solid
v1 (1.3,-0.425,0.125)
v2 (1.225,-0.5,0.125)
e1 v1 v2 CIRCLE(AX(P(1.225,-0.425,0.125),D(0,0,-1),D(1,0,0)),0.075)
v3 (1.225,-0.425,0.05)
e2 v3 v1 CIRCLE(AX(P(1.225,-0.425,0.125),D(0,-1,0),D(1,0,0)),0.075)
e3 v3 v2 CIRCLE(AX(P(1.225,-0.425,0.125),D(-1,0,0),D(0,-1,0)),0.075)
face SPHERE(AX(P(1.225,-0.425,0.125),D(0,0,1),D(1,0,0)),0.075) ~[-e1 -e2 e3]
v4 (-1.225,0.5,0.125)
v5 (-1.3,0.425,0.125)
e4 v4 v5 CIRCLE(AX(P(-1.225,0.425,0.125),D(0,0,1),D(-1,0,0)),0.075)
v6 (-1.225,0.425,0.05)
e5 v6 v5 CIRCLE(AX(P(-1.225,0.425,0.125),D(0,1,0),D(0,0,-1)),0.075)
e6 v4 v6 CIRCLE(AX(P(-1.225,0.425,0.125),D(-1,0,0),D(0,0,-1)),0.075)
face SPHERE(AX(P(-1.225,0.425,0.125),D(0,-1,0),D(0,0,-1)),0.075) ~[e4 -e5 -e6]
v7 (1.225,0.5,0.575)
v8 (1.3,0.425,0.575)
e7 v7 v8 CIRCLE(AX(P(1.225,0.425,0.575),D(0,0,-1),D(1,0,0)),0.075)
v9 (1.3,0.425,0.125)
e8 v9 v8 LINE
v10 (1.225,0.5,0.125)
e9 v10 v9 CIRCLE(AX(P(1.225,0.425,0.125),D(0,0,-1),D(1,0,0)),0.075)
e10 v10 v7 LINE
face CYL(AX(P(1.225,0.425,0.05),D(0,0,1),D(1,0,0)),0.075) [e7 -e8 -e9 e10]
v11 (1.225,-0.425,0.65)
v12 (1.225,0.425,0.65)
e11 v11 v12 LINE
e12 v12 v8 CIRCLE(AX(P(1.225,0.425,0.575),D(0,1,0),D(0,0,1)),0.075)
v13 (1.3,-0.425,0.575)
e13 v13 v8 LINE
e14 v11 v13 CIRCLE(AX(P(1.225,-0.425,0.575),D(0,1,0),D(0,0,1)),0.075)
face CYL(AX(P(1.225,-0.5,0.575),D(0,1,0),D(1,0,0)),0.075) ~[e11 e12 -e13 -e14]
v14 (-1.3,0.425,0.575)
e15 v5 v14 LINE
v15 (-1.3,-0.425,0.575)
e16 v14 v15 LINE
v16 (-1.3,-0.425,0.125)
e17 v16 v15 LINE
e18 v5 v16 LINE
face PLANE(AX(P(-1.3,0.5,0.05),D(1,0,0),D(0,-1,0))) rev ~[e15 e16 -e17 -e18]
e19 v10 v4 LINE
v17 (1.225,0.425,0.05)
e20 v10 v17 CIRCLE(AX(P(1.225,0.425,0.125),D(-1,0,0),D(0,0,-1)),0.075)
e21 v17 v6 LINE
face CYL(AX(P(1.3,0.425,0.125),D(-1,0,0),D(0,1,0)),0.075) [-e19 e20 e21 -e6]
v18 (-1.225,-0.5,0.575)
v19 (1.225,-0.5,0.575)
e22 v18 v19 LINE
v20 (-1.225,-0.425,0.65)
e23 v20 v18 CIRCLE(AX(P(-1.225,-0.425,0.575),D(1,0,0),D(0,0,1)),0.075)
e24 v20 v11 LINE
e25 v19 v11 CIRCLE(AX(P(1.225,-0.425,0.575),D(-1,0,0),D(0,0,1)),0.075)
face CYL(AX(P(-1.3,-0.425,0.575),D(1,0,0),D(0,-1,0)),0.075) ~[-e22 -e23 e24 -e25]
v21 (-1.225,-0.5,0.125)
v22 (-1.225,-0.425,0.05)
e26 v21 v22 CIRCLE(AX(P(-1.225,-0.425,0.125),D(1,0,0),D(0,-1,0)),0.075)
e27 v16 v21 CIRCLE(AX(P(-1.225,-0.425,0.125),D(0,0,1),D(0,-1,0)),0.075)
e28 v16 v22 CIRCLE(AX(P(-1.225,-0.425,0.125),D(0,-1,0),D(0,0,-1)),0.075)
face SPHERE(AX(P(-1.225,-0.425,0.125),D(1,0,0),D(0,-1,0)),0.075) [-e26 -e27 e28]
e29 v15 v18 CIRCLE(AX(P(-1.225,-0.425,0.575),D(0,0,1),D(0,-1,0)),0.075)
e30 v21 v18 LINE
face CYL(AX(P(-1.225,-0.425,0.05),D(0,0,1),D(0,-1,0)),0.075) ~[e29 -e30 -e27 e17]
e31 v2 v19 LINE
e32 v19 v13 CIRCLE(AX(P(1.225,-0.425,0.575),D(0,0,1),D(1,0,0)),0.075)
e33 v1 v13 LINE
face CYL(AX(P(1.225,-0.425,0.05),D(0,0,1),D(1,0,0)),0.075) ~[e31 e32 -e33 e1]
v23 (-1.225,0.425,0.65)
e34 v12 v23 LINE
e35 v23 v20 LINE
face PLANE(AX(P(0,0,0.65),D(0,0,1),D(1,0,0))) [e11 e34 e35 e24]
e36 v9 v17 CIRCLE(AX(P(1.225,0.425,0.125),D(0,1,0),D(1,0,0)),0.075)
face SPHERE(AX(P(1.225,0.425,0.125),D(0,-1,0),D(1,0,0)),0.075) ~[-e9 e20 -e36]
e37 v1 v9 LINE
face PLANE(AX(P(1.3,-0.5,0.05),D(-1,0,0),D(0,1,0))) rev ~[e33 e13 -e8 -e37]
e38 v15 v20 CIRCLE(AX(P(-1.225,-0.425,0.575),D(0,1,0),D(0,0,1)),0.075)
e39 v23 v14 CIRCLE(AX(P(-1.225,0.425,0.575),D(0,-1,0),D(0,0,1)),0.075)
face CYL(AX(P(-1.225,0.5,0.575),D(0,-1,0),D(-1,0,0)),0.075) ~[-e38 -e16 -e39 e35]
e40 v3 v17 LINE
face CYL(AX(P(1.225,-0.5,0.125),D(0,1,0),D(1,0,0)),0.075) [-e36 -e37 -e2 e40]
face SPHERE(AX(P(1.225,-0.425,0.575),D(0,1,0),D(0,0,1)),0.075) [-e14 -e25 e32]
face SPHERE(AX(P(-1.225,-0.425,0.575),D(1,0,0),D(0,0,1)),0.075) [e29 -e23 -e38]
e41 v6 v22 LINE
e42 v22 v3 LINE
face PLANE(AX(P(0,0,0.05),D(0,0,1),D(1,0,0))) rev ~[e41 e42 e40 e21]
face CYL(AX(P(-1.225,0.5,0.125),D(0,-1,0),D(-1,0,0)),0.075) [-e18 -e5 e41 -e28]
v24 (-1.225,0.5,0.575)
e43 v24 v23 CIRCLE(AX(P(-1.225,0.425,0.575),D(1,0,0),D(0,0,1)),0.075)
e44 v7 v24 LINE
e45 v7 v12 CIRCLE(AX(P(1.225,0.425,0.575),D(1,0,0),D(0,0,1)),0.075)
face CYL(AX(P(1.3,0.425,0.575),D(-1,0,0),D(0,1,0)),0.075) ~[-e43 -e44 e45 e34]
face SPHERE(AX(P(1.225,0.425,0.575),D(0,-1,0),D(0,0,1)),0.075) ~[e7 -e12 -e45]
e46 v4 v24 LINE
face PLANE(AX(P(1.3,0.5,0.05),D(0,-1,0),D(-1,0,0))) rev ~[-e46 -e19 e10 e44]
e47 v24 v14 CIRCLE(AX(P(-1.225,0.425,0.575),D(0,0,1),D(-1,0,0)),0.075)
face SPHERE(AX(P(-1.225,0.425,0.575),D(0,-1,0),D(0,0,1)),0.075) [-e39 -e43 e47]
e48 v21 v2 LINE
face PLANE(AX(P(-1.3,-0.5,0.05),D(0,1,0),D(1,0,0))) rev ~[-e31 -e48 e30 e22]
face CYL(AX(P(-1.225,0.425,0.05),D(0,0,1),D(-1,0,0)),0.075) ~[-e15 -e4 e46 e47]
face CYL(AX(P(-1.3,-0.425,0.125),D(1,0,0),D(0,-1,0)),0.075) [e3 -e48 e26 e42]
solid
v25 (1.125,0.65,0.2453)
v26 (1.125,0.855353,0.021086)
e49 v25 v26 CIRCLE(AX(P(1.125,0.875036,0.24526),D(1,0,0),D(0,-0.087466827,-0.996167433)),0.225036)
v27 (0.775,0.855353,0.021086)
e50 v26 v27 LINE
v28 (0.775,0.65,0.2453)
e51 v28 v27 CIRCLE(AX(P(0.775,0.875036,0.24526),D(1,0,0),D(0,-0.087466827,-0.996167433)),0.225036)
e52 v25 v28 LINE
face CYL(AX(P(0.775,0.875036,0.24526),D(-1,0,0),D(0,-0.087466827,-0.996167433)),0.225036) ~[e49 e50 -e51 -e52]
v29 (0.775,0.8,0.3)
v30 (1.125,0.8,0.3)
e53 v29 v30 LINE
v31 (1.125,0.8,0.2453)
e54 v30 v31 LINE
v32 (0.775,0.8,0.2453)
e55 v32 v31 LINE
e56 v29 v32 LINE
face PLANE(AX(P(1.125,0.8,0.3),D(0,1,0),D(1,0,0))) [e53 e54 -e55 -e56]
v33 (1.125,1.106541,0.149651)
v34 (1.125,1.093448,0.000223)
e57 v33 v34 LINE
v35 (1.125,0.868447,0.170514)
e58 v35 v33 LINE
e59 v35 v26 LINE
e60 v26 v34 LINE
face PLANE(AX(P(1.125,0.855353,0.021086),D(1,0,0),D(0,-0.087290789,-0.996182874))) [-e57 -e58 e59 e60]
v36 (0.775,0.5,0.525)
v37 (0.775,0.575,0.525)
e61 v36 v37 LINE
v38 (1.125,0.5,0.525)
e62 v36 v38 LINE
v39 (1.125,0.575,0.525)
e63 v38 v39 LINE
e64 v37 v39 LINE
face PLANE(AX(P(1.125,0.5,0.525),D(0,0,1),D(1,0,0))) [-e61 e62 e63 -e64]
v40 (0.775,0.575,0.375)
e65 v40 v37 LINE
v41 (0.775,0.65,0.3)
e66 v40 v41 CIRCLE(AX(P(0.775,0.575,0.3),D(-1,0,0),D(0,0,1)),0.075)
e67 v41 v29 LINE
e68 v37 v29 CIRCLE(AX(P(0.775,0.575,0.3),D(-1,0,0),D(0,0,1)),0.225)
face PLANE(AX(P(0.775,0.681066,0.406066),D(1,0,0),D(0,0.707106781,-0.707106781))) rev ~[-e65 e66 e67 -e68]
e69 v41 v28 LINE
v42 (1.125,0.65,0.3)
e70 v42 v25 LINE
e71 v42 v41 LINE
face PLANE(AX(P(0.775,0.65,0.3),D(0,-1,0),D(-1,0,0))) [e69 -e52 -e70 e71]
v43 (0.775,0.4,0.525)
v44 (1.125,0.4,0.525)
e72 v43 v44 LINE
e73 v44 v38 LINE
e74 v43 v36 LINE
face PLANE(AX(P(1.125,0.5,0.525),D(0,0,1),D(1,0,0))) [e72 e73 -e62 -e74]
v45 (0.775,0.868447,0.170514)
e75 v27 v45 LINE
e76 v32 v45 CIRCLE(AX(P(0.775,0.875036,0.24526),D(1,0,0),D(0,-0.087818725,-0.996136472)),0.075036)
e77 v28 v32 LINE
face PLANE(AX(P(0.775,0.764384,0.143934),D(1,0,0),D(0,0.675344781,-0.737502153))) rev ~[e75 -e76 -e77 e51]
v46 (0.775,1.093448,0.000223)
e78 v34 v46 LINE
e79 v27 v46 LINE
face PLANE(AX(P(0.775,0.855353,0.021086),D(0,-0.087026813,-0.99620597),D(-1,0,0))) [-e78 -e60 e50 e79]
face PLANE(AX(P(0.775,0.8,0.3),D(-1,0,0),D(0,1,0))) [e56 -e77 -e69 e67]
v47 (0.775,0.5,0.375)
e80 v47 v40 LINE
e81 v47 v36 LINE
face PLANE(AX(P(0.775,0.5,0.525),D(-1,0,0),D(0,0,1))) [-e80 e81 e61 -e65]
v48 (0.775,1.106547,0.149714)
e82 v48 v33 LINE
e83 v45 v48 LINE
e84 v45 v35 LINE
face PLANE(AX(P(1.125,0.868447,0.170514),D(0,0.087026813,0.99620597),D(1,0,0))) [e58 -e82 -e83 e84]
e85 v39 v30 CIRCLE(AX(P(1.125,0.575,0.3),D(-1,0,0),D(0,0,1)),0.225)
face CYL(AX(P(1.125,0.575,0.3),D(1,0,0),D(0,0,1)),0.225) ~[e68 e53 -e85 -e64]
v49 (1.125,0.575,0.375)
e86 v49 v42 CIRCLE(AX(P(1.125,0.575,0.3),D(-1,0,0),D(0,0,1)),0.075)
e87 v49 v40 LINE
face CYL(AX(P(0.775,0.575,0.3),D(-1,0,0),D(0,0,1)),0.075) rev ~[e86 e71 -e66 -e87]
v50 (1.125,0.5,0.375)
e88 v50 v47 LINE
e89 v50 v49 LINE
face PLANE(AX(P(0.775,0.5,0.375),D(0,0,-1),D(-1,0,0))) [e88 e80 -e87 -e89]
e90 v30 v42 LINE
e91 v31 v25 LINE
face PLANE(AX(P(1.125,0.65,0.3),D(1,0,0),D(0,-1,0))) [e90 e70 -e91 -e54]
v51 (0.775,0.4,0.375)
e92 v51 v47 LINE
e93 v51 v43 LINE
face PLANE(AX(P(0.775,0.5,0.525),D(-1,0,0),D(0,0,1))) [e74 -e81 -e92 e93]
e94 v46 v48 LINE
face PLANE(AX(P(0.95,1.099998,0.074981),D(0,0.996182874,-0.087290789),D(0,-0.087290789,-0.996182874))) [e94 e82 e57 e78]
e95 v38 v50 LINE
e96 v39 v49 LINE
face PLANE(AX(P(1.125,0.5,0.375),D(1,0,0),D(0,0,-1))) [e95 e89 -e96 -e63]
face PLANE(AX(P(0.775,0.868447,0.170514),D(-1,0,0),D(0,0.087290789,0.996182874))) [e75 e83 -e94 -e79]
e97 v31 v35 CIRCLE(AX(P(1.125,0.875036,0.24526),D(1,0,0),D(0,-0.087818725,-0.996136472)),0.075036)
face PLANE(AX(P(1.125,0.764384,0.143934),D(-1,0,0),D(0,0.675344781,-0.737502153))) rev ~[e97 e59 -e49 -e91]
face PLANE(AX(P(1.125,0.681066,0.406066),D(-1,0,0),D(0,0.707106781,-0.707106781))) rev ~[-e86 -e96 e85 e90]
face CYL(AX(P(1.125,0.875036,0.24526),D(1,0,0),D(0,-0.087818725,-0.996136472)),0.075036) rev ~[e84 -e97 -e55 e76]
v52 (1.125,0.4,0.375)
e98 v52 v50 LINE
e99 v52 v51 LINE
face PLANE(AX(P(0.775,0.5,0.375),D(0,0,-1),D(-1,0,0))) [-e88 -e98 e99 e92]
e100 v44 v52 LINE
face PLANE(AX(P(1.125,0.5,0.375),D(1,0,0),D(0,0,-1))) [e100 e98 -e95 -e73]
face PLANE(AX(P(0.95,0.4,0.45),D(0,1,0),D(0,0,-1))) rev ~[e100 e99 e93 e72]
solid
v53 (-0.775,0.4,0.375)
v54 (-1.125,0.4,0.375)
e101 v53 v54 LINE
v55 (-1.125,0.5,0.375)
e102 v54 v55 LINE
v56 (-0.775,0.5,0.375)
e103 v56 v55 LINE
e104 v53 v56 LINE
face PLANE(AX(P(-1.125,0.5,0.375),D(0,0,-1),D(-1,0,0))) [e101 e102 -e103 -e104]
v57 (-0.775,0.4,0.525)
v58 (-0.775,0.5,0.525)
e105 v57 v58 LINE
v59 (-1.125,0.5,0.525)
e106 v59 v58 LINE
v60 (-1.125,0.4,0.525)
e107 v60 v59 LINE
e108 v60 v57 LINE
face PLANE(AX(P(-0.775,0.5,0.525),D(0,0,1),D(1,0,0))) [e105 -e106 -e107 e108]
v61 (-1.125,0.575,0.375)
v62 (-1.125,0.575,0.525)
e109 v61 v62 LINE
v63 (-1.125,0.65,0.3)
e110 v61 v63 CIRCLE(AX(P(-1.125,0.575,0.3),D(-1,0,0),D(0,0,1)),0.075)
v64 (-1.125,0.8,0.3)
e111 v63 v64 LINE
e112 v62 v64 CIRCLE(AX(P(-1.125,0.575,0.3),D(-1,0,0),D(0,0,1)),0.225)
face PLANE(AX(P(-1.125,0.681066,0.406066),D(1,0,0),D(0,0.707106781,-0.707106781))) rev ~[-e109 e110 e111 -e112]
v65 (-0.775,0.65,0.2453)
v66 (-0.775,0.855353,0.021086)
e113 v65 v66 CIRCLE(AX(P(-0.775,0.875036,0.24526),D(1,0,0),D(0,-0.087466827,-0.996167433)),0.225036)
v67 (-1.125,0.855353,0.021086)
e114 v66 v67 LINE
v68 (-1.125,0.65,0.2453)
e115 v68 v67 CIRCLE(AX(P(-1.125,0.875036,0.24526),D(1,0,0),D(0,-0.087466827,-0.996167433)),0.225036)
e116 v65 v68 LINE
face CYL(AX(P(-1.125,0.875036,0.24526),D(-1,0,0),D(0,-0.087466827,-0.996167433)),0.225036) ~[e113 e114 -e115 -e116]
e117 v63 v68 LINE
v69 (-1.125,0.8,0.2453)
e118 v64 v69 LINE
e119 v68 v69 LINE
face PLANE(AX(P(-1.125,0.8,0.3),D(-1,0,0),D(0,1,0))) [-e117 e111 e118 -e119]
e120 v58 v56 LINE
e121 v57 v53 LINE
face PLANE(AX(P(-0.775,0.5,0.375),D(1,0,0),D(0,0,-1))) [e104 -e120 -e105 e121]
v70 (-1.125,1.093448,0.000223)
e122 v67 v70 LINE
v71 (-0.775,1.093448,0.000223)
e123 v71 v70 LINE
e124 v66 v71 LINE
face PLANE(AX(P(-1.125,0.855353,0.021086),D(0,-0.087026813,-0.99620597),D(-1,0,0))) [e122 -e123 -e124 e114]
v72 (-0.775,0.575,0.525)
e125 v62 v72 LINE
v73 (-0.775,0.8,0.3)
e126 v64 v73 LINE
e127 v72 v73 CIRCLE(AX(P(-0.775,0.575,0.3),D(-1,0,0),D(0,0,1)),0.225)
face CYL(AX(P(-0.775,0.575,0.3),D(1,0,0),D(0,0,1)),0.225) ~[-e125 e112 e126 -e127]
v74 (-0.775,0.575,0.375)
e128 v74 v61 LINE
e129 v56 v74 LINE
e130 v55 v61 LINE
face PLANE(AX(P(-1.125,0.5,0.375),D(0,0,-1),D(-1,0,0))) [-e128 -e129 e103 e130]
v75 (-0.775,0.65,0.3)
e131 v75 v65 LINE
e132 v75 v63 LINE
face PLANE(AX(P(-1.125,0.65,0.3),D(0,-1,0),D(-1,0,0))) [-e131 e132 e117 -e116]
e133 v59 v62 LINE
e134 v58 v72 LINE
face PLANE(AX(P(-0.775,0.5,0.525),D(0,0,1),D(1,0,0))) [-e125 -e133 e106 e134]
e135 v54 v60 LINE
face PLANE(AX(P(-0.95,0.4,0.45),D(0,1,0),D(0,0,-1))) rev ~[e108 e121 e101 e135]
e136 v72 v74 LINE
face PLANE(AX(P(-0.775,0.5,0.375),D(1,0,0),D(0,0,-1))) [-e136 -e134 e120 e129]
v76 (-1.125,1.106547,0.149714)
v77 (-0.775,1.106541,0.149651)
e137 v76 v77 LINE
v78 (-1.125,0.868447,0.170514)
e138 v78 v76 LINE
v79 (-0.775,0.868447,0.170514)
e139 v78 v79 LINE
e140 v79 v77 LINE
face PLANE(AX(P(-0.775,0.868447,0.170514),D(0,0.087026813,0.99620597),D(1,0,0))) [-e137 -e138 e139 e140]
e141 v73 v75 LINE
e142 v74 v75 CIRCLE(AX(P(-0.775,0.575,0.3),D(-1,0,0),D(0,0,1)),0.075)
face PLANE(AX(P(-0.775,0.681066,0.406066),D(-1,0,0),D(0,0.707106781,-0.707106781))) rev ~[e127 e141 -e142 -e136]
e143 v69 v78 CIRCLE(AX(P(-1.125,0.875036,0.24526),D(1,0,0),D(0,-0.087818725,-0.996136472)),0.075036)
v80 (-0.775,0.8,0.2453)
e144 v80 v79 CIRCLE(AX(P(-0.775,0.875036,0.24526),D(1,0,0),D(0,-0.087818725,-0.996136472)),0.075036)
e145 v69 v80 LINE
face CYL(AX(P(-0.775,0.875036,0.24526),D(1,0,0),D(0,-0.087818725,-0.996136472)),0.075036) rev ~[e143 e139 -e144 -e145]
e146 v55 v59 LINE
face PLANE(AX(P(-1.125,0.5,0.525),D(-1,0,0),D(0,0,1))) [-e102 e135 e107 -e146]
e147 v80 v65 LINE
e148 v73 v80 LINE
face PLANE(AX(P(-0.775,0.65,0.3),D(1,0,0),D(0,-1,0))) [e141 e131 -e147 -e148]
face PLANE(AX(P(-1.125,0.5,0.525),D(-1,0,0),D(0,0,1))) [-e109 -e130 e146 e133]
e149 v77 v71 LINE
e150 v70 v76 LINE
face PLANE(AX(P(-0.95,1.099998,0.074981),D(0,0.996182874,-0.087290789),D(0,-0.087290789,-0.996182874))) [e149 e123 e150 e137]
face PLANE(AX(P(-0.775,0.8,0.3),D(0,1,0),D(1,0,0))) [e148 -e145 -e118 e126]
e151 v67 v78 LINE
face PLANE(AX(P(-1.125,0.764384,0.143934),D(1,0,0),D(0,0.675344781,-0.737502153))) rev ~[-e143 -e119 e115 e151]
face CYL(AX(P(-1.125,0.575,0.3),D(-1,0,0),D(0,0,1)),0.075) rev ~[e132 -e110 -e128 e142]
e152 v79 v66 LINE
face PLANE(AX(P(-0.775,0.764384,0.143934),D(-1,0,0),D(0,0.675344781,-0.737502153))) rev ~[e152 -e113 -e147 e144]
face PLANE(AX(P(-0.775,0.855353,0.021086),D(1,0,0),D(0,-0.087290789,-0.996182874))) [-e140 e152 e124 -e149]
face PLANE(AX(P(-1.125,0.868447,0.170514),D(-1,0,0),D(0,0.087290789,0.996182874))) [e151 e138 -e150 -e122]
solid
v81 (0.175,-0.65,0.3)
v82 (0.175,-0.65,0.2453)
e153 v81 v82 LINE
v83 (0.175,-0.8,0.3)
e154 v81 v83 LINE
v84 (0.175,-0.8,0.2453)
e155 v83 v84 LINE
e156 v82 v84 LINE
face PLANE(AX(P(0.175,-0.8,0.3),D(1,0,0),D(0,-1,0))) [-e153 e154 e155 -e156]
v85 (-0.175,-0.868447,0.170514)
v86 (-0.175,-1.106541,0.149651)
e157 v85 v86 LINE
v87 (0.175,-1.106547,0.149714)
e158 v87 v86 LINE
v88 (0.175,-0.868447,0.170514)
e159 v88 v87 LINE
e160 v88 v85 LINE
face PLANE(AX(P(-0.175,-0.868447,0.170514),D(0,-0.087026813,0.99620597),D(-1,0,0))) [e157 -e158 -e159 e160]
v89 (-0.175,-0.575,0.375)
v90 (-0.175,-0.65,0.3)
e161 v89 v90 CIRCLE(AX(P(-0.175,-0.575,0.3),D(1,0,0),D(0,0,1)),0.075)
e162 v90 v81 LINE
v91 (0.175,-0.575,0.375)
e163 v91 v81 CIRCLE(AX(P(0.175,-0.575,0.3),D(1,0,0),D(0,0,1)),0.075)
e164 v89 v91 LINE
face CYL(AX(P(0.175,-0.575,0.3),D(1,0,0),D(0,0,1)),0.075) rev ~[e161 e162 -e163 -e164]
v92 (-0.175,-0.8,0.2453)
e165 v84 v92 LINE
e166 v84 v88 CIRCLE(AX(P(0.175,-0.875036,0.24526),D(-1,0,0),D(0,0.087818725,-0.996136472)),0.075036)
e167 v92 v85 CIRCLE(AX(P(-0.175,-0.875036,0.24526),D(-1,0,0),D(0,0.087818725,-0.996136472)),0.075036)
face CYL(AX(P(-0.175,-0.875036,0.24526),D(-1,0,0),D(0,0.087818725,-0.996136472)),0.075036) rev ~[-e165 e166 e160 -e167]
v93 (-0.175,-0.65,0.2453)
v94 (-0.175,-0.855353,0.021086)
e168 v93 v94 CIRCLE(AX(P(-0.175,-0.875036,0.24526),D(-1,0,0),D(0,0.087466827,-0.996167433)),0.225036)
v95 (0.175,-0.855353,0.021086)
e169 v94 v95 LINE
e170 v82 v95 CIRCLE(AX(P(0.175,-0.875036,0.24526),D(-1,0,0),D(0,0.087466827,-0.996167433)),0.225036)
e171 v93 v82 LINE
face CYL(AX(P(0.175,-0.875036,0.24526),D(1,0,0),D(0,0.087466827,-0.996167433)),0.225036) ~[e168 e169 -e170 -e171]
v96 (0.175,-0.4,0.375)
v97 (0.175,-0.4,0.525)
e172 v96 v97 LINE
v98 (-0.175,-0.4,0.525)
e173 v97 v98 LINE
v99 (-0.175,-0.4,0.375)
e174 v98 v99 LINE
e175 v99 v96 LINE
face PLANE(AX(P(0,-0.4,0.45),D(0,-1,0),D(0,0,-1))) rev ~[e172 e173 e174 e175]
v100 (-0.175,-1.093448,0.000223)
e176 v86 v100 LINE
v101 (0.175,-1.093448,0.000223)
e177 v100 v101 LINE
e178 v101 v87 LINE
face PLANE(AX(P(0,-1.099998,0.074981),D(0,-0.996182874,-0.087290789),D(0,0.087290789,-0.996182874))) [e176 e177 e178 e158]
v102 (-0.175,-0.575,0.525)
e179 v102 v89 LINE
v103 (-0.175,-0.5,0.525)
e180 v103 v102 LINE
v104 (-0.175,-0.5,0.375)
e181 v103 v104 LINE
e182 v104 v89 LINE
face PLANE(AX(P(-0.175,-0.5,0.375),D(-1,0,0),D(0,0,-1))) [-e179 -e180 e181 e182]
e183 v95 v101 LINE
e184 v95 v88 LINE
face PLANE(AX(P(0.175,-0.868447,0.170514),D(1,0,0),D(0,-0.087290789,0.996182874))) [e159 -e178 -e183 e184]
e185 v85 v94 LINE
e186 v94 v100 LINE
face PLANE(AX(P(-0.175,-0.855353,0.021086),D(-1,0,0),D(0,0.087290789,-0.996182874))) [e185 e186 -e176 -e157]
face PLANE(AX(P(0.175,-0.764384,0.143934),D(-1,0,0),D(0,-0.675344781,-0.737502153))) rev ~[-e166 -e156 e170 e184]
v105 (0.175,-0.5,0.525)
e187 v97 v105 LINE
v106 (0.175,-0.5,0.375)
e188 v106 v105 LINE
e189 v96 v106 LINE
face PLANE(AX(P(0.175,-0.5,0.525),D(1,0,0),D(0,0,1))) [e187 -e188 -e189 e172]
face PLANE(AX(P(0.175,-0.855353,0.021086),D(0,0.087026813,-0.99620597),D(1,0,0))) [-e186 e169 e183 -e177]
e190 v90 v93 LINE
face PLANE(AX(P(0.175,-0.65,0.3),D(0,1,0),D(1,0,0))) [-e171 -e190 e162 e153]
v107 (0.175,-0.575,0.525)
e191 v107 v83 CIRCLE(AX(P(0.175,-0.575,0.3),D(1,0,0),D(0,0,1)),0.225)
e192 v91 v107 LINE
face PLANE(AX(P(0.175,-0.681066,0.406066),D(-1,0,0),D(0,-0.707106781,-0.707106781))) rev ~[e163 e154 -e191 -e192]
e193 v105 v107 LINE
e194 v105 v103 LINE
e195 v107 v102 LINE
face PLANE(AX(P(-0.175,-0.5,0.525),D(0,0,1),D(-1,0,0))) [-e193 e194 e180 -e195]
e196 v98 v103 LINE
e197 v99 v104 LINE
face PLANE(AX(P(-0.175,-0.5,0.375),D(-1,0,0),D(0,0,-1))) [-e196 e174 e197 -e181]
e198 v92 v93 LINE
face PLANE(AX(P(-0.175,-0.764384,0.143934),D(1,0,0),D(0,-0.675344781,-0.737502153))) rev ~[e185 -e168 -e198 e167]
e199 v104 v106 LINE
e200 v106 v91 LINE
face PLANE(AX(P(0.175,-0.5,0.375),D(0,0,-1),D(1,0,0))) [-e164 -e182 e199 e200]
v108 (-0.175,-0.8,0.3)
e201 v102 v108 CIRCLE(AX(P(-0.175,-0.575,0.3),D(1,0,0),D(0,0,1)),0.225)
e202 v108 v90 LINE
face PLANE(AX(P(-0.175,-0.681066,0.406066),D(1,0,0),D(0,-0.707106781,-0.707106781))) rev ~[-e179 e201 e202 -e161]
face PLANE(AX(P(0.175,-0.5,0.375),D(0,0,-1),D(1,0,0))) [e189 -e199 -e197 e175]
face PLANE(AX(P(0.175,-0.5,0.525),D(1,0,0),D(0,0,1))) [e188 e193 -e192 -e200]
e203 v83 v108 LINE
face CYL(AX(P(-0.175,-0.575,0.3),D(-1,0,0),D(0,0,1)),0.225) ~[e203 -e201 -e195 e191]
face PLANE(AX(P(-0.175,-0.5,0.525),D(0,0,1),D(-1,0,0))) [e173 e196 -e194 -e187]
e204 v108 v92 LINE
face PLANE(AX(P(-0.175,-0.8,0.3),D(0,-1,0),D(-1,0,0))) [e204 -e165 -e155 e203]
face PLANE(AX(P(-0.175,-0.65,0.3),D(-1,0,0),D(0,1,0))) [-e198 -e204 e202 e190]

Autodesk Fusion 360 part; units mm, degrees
ref_plane "WorkPlane1" through (0, 0, 0.05) normal (0, 0, 1) x (1, 0, 0)
sketch "Sketch1" plane through (0, 0, 0.05) normal (0, 0, 1) x (1, 0, 0)
  line L0 (1.3, 0.5) -> (-1.3, 0.5)
  line L1 (-1.3, 0.5) -> (-1.3, -0.5)
  line L2 (-1.3, -0.5) -> (1.3, -0.5)
  line L3 (1.3, -0.5) -> (1.3, 0.5)
  line L4 (1.3, 0.5) -> (-1.3, -0.5) construction
  line L5 (-1.3, 0.5) -> (1.3, -0.5) construction
  dimension "d2" = 2.6
  dimension "d3" = 1
extrude "Extrude1" add sketch "Sketch1" along normal blind 0.6 makes body 1
sketch "Sketch2" plane through (0, -0.5, 0) normal (0, -1, 0) x (1, 0, 0)
  line L0 (-1.3, 0.05) -> (1.3, 0.05)
  line L1 (1.3, 0.05) -> (1.3, 0.65)
  line L2 (1.3, 0.65) -> (-1.3, 0.65)
  line L3 (-1.3, 0.65) -> (-1.3, 0.05)
  line L4 (0.175, 0.375) -> (-0.175, 0.375)
  line L5 (-0.175, 0.375) -> (-0.175, 0.525)
  line L6 (-0.175, 0.525) -> (0.175, 0.525)
  line L7 (0.175, 0.525) -> (0.175, 0.375)
  line L8 (0.175, 0.375) -> (-0.175, 0.525) construction
  line L9 (-0.175, 0.375) -> (0.175, 0.525) construction
  point P0 (0, 0.45)
  dimension "d6" = 0.35
  dimension "d7" = 0.15
  dimension "d8" = 0.4
sketch "Sketch3" plane through (0, 0, 0) normal (1, 0, 0) x (0, 1, 0)
  line L0 (-0.5, 0.45) -> (-0.575, 0.45)
  arc A0 (-0.575, 0.45) -> (-0.725, 0.3) centre (-0.575, 0.3) ccw
  line L1 (-0.725, 0.3) -> (-0.725, 0.2453)
  arc A1 (-0.8619, 0.0958) -> (-0.725, 0.2453) centre (-0.875, 0.2453) ccw
  line L2 (-0.8619, 0.0958) -> (-1.1, 0.075)
  line L3 (-0.5, 0.525) -> (-0.5, 0.375)
  line L4 (-0.5, 0.45) -> (-0.4, 0.45)
  line L5 (-1.1, 0.075) -> (-0.6, 0.075) construction
  point P0 (-0.5, 0.45)
  dimension "d10" = 0.15
  dimension "d11" = 0.075
  dimension "d21" = 0.1
  dimension "d22" = 0.225
  dimension "d23" = 0.6
  dimension "d24" = 0.5
  dimension "d25" = 5
  dimension "d26" = 0.15
sweep "Sweep1" add profiles "Sketch2" path "Sketch3" along L2 A1 L1 A0 L0 L4 section 1 contours L4 L5 L6 L7 separate body makes body 2
pattern_linear "R-Pattern1" count 3 spacing 0.95 along (1, 0, 0) both ways of "Sweep1" makes body 3 makes body 4
fillet "Fillet1" radius 0.075 12 edges at (1.3, 0, 0.65) (0, -0.5, 0.65) (-1.3, 0, 0.65) (0, 0.5, 0.65) (1.3, -0.5, 0.35) (1.3, 0, 0.05) (1.3, 0.5, 0.35) (0, -0.5, 0.05) (-1.3, -0.5, 0.35) (-1.3, 0, 0.05) (0, 0.5, 0.05) (-1.3, 0.5, 0.35) on bodies 1
move_body "Move1" bodies 3 4 to x (-1, 0, 0) y (0, -1, 0) z (0, 0, 1) at (0, 0, 0)
equation "d1 = sop3_2_above_board"
equation "d2 = sop3_2_package_width"
equation "d3 = sop3_2_package_depth"
equation "d4 = sop3_2_package_height"
equation "d6 = sop3_2_lead_width"
equation "d7 = sop3_2_lead_thickness"
equation "d8 = sop3_2_lead_attach"
equation "d10 = sop3_2_lead_thickness"
equation "d11 = sop3_2_lead_thickness / 2"
equation "sop3_2_lead_thickness = 0.15 mm"
equation "sop3_2_lead_attach = 0.4 mm"
equation "sop3_2_lead_width = 0.35 mm"
equation "sop3_2_lead_spacing = 0.95 mm"
equation "sop3_2_package_width = 2.6 mm"
equation "sop3_2_package_height = 0.6 mm"
equation "sop3_2_package_depth = 1 mm"
equation "sop3_2_above_board = 0.05 mm"
equation "d21 = sop3_2_lead_into_package"
equation "d22 = sop3_2_lead_thickness * ( 3 / 2 )"
equation "d23 = sop3_2_lead_extension"
equation "d25 = sop3_2_lead_foot_angle"
equation "d26 = d10"
equation "sop3_2_lead_extension = 0.6 mm"
equation "sop3_2_lead_foot_angle = 5 deg"
equation "sop3_2_lead_into_package = 0.1 mm"
equation "d34 = sop3_2_lead_spacing"
equation "sop3_2_optional_lead_extension = 0 mm"
